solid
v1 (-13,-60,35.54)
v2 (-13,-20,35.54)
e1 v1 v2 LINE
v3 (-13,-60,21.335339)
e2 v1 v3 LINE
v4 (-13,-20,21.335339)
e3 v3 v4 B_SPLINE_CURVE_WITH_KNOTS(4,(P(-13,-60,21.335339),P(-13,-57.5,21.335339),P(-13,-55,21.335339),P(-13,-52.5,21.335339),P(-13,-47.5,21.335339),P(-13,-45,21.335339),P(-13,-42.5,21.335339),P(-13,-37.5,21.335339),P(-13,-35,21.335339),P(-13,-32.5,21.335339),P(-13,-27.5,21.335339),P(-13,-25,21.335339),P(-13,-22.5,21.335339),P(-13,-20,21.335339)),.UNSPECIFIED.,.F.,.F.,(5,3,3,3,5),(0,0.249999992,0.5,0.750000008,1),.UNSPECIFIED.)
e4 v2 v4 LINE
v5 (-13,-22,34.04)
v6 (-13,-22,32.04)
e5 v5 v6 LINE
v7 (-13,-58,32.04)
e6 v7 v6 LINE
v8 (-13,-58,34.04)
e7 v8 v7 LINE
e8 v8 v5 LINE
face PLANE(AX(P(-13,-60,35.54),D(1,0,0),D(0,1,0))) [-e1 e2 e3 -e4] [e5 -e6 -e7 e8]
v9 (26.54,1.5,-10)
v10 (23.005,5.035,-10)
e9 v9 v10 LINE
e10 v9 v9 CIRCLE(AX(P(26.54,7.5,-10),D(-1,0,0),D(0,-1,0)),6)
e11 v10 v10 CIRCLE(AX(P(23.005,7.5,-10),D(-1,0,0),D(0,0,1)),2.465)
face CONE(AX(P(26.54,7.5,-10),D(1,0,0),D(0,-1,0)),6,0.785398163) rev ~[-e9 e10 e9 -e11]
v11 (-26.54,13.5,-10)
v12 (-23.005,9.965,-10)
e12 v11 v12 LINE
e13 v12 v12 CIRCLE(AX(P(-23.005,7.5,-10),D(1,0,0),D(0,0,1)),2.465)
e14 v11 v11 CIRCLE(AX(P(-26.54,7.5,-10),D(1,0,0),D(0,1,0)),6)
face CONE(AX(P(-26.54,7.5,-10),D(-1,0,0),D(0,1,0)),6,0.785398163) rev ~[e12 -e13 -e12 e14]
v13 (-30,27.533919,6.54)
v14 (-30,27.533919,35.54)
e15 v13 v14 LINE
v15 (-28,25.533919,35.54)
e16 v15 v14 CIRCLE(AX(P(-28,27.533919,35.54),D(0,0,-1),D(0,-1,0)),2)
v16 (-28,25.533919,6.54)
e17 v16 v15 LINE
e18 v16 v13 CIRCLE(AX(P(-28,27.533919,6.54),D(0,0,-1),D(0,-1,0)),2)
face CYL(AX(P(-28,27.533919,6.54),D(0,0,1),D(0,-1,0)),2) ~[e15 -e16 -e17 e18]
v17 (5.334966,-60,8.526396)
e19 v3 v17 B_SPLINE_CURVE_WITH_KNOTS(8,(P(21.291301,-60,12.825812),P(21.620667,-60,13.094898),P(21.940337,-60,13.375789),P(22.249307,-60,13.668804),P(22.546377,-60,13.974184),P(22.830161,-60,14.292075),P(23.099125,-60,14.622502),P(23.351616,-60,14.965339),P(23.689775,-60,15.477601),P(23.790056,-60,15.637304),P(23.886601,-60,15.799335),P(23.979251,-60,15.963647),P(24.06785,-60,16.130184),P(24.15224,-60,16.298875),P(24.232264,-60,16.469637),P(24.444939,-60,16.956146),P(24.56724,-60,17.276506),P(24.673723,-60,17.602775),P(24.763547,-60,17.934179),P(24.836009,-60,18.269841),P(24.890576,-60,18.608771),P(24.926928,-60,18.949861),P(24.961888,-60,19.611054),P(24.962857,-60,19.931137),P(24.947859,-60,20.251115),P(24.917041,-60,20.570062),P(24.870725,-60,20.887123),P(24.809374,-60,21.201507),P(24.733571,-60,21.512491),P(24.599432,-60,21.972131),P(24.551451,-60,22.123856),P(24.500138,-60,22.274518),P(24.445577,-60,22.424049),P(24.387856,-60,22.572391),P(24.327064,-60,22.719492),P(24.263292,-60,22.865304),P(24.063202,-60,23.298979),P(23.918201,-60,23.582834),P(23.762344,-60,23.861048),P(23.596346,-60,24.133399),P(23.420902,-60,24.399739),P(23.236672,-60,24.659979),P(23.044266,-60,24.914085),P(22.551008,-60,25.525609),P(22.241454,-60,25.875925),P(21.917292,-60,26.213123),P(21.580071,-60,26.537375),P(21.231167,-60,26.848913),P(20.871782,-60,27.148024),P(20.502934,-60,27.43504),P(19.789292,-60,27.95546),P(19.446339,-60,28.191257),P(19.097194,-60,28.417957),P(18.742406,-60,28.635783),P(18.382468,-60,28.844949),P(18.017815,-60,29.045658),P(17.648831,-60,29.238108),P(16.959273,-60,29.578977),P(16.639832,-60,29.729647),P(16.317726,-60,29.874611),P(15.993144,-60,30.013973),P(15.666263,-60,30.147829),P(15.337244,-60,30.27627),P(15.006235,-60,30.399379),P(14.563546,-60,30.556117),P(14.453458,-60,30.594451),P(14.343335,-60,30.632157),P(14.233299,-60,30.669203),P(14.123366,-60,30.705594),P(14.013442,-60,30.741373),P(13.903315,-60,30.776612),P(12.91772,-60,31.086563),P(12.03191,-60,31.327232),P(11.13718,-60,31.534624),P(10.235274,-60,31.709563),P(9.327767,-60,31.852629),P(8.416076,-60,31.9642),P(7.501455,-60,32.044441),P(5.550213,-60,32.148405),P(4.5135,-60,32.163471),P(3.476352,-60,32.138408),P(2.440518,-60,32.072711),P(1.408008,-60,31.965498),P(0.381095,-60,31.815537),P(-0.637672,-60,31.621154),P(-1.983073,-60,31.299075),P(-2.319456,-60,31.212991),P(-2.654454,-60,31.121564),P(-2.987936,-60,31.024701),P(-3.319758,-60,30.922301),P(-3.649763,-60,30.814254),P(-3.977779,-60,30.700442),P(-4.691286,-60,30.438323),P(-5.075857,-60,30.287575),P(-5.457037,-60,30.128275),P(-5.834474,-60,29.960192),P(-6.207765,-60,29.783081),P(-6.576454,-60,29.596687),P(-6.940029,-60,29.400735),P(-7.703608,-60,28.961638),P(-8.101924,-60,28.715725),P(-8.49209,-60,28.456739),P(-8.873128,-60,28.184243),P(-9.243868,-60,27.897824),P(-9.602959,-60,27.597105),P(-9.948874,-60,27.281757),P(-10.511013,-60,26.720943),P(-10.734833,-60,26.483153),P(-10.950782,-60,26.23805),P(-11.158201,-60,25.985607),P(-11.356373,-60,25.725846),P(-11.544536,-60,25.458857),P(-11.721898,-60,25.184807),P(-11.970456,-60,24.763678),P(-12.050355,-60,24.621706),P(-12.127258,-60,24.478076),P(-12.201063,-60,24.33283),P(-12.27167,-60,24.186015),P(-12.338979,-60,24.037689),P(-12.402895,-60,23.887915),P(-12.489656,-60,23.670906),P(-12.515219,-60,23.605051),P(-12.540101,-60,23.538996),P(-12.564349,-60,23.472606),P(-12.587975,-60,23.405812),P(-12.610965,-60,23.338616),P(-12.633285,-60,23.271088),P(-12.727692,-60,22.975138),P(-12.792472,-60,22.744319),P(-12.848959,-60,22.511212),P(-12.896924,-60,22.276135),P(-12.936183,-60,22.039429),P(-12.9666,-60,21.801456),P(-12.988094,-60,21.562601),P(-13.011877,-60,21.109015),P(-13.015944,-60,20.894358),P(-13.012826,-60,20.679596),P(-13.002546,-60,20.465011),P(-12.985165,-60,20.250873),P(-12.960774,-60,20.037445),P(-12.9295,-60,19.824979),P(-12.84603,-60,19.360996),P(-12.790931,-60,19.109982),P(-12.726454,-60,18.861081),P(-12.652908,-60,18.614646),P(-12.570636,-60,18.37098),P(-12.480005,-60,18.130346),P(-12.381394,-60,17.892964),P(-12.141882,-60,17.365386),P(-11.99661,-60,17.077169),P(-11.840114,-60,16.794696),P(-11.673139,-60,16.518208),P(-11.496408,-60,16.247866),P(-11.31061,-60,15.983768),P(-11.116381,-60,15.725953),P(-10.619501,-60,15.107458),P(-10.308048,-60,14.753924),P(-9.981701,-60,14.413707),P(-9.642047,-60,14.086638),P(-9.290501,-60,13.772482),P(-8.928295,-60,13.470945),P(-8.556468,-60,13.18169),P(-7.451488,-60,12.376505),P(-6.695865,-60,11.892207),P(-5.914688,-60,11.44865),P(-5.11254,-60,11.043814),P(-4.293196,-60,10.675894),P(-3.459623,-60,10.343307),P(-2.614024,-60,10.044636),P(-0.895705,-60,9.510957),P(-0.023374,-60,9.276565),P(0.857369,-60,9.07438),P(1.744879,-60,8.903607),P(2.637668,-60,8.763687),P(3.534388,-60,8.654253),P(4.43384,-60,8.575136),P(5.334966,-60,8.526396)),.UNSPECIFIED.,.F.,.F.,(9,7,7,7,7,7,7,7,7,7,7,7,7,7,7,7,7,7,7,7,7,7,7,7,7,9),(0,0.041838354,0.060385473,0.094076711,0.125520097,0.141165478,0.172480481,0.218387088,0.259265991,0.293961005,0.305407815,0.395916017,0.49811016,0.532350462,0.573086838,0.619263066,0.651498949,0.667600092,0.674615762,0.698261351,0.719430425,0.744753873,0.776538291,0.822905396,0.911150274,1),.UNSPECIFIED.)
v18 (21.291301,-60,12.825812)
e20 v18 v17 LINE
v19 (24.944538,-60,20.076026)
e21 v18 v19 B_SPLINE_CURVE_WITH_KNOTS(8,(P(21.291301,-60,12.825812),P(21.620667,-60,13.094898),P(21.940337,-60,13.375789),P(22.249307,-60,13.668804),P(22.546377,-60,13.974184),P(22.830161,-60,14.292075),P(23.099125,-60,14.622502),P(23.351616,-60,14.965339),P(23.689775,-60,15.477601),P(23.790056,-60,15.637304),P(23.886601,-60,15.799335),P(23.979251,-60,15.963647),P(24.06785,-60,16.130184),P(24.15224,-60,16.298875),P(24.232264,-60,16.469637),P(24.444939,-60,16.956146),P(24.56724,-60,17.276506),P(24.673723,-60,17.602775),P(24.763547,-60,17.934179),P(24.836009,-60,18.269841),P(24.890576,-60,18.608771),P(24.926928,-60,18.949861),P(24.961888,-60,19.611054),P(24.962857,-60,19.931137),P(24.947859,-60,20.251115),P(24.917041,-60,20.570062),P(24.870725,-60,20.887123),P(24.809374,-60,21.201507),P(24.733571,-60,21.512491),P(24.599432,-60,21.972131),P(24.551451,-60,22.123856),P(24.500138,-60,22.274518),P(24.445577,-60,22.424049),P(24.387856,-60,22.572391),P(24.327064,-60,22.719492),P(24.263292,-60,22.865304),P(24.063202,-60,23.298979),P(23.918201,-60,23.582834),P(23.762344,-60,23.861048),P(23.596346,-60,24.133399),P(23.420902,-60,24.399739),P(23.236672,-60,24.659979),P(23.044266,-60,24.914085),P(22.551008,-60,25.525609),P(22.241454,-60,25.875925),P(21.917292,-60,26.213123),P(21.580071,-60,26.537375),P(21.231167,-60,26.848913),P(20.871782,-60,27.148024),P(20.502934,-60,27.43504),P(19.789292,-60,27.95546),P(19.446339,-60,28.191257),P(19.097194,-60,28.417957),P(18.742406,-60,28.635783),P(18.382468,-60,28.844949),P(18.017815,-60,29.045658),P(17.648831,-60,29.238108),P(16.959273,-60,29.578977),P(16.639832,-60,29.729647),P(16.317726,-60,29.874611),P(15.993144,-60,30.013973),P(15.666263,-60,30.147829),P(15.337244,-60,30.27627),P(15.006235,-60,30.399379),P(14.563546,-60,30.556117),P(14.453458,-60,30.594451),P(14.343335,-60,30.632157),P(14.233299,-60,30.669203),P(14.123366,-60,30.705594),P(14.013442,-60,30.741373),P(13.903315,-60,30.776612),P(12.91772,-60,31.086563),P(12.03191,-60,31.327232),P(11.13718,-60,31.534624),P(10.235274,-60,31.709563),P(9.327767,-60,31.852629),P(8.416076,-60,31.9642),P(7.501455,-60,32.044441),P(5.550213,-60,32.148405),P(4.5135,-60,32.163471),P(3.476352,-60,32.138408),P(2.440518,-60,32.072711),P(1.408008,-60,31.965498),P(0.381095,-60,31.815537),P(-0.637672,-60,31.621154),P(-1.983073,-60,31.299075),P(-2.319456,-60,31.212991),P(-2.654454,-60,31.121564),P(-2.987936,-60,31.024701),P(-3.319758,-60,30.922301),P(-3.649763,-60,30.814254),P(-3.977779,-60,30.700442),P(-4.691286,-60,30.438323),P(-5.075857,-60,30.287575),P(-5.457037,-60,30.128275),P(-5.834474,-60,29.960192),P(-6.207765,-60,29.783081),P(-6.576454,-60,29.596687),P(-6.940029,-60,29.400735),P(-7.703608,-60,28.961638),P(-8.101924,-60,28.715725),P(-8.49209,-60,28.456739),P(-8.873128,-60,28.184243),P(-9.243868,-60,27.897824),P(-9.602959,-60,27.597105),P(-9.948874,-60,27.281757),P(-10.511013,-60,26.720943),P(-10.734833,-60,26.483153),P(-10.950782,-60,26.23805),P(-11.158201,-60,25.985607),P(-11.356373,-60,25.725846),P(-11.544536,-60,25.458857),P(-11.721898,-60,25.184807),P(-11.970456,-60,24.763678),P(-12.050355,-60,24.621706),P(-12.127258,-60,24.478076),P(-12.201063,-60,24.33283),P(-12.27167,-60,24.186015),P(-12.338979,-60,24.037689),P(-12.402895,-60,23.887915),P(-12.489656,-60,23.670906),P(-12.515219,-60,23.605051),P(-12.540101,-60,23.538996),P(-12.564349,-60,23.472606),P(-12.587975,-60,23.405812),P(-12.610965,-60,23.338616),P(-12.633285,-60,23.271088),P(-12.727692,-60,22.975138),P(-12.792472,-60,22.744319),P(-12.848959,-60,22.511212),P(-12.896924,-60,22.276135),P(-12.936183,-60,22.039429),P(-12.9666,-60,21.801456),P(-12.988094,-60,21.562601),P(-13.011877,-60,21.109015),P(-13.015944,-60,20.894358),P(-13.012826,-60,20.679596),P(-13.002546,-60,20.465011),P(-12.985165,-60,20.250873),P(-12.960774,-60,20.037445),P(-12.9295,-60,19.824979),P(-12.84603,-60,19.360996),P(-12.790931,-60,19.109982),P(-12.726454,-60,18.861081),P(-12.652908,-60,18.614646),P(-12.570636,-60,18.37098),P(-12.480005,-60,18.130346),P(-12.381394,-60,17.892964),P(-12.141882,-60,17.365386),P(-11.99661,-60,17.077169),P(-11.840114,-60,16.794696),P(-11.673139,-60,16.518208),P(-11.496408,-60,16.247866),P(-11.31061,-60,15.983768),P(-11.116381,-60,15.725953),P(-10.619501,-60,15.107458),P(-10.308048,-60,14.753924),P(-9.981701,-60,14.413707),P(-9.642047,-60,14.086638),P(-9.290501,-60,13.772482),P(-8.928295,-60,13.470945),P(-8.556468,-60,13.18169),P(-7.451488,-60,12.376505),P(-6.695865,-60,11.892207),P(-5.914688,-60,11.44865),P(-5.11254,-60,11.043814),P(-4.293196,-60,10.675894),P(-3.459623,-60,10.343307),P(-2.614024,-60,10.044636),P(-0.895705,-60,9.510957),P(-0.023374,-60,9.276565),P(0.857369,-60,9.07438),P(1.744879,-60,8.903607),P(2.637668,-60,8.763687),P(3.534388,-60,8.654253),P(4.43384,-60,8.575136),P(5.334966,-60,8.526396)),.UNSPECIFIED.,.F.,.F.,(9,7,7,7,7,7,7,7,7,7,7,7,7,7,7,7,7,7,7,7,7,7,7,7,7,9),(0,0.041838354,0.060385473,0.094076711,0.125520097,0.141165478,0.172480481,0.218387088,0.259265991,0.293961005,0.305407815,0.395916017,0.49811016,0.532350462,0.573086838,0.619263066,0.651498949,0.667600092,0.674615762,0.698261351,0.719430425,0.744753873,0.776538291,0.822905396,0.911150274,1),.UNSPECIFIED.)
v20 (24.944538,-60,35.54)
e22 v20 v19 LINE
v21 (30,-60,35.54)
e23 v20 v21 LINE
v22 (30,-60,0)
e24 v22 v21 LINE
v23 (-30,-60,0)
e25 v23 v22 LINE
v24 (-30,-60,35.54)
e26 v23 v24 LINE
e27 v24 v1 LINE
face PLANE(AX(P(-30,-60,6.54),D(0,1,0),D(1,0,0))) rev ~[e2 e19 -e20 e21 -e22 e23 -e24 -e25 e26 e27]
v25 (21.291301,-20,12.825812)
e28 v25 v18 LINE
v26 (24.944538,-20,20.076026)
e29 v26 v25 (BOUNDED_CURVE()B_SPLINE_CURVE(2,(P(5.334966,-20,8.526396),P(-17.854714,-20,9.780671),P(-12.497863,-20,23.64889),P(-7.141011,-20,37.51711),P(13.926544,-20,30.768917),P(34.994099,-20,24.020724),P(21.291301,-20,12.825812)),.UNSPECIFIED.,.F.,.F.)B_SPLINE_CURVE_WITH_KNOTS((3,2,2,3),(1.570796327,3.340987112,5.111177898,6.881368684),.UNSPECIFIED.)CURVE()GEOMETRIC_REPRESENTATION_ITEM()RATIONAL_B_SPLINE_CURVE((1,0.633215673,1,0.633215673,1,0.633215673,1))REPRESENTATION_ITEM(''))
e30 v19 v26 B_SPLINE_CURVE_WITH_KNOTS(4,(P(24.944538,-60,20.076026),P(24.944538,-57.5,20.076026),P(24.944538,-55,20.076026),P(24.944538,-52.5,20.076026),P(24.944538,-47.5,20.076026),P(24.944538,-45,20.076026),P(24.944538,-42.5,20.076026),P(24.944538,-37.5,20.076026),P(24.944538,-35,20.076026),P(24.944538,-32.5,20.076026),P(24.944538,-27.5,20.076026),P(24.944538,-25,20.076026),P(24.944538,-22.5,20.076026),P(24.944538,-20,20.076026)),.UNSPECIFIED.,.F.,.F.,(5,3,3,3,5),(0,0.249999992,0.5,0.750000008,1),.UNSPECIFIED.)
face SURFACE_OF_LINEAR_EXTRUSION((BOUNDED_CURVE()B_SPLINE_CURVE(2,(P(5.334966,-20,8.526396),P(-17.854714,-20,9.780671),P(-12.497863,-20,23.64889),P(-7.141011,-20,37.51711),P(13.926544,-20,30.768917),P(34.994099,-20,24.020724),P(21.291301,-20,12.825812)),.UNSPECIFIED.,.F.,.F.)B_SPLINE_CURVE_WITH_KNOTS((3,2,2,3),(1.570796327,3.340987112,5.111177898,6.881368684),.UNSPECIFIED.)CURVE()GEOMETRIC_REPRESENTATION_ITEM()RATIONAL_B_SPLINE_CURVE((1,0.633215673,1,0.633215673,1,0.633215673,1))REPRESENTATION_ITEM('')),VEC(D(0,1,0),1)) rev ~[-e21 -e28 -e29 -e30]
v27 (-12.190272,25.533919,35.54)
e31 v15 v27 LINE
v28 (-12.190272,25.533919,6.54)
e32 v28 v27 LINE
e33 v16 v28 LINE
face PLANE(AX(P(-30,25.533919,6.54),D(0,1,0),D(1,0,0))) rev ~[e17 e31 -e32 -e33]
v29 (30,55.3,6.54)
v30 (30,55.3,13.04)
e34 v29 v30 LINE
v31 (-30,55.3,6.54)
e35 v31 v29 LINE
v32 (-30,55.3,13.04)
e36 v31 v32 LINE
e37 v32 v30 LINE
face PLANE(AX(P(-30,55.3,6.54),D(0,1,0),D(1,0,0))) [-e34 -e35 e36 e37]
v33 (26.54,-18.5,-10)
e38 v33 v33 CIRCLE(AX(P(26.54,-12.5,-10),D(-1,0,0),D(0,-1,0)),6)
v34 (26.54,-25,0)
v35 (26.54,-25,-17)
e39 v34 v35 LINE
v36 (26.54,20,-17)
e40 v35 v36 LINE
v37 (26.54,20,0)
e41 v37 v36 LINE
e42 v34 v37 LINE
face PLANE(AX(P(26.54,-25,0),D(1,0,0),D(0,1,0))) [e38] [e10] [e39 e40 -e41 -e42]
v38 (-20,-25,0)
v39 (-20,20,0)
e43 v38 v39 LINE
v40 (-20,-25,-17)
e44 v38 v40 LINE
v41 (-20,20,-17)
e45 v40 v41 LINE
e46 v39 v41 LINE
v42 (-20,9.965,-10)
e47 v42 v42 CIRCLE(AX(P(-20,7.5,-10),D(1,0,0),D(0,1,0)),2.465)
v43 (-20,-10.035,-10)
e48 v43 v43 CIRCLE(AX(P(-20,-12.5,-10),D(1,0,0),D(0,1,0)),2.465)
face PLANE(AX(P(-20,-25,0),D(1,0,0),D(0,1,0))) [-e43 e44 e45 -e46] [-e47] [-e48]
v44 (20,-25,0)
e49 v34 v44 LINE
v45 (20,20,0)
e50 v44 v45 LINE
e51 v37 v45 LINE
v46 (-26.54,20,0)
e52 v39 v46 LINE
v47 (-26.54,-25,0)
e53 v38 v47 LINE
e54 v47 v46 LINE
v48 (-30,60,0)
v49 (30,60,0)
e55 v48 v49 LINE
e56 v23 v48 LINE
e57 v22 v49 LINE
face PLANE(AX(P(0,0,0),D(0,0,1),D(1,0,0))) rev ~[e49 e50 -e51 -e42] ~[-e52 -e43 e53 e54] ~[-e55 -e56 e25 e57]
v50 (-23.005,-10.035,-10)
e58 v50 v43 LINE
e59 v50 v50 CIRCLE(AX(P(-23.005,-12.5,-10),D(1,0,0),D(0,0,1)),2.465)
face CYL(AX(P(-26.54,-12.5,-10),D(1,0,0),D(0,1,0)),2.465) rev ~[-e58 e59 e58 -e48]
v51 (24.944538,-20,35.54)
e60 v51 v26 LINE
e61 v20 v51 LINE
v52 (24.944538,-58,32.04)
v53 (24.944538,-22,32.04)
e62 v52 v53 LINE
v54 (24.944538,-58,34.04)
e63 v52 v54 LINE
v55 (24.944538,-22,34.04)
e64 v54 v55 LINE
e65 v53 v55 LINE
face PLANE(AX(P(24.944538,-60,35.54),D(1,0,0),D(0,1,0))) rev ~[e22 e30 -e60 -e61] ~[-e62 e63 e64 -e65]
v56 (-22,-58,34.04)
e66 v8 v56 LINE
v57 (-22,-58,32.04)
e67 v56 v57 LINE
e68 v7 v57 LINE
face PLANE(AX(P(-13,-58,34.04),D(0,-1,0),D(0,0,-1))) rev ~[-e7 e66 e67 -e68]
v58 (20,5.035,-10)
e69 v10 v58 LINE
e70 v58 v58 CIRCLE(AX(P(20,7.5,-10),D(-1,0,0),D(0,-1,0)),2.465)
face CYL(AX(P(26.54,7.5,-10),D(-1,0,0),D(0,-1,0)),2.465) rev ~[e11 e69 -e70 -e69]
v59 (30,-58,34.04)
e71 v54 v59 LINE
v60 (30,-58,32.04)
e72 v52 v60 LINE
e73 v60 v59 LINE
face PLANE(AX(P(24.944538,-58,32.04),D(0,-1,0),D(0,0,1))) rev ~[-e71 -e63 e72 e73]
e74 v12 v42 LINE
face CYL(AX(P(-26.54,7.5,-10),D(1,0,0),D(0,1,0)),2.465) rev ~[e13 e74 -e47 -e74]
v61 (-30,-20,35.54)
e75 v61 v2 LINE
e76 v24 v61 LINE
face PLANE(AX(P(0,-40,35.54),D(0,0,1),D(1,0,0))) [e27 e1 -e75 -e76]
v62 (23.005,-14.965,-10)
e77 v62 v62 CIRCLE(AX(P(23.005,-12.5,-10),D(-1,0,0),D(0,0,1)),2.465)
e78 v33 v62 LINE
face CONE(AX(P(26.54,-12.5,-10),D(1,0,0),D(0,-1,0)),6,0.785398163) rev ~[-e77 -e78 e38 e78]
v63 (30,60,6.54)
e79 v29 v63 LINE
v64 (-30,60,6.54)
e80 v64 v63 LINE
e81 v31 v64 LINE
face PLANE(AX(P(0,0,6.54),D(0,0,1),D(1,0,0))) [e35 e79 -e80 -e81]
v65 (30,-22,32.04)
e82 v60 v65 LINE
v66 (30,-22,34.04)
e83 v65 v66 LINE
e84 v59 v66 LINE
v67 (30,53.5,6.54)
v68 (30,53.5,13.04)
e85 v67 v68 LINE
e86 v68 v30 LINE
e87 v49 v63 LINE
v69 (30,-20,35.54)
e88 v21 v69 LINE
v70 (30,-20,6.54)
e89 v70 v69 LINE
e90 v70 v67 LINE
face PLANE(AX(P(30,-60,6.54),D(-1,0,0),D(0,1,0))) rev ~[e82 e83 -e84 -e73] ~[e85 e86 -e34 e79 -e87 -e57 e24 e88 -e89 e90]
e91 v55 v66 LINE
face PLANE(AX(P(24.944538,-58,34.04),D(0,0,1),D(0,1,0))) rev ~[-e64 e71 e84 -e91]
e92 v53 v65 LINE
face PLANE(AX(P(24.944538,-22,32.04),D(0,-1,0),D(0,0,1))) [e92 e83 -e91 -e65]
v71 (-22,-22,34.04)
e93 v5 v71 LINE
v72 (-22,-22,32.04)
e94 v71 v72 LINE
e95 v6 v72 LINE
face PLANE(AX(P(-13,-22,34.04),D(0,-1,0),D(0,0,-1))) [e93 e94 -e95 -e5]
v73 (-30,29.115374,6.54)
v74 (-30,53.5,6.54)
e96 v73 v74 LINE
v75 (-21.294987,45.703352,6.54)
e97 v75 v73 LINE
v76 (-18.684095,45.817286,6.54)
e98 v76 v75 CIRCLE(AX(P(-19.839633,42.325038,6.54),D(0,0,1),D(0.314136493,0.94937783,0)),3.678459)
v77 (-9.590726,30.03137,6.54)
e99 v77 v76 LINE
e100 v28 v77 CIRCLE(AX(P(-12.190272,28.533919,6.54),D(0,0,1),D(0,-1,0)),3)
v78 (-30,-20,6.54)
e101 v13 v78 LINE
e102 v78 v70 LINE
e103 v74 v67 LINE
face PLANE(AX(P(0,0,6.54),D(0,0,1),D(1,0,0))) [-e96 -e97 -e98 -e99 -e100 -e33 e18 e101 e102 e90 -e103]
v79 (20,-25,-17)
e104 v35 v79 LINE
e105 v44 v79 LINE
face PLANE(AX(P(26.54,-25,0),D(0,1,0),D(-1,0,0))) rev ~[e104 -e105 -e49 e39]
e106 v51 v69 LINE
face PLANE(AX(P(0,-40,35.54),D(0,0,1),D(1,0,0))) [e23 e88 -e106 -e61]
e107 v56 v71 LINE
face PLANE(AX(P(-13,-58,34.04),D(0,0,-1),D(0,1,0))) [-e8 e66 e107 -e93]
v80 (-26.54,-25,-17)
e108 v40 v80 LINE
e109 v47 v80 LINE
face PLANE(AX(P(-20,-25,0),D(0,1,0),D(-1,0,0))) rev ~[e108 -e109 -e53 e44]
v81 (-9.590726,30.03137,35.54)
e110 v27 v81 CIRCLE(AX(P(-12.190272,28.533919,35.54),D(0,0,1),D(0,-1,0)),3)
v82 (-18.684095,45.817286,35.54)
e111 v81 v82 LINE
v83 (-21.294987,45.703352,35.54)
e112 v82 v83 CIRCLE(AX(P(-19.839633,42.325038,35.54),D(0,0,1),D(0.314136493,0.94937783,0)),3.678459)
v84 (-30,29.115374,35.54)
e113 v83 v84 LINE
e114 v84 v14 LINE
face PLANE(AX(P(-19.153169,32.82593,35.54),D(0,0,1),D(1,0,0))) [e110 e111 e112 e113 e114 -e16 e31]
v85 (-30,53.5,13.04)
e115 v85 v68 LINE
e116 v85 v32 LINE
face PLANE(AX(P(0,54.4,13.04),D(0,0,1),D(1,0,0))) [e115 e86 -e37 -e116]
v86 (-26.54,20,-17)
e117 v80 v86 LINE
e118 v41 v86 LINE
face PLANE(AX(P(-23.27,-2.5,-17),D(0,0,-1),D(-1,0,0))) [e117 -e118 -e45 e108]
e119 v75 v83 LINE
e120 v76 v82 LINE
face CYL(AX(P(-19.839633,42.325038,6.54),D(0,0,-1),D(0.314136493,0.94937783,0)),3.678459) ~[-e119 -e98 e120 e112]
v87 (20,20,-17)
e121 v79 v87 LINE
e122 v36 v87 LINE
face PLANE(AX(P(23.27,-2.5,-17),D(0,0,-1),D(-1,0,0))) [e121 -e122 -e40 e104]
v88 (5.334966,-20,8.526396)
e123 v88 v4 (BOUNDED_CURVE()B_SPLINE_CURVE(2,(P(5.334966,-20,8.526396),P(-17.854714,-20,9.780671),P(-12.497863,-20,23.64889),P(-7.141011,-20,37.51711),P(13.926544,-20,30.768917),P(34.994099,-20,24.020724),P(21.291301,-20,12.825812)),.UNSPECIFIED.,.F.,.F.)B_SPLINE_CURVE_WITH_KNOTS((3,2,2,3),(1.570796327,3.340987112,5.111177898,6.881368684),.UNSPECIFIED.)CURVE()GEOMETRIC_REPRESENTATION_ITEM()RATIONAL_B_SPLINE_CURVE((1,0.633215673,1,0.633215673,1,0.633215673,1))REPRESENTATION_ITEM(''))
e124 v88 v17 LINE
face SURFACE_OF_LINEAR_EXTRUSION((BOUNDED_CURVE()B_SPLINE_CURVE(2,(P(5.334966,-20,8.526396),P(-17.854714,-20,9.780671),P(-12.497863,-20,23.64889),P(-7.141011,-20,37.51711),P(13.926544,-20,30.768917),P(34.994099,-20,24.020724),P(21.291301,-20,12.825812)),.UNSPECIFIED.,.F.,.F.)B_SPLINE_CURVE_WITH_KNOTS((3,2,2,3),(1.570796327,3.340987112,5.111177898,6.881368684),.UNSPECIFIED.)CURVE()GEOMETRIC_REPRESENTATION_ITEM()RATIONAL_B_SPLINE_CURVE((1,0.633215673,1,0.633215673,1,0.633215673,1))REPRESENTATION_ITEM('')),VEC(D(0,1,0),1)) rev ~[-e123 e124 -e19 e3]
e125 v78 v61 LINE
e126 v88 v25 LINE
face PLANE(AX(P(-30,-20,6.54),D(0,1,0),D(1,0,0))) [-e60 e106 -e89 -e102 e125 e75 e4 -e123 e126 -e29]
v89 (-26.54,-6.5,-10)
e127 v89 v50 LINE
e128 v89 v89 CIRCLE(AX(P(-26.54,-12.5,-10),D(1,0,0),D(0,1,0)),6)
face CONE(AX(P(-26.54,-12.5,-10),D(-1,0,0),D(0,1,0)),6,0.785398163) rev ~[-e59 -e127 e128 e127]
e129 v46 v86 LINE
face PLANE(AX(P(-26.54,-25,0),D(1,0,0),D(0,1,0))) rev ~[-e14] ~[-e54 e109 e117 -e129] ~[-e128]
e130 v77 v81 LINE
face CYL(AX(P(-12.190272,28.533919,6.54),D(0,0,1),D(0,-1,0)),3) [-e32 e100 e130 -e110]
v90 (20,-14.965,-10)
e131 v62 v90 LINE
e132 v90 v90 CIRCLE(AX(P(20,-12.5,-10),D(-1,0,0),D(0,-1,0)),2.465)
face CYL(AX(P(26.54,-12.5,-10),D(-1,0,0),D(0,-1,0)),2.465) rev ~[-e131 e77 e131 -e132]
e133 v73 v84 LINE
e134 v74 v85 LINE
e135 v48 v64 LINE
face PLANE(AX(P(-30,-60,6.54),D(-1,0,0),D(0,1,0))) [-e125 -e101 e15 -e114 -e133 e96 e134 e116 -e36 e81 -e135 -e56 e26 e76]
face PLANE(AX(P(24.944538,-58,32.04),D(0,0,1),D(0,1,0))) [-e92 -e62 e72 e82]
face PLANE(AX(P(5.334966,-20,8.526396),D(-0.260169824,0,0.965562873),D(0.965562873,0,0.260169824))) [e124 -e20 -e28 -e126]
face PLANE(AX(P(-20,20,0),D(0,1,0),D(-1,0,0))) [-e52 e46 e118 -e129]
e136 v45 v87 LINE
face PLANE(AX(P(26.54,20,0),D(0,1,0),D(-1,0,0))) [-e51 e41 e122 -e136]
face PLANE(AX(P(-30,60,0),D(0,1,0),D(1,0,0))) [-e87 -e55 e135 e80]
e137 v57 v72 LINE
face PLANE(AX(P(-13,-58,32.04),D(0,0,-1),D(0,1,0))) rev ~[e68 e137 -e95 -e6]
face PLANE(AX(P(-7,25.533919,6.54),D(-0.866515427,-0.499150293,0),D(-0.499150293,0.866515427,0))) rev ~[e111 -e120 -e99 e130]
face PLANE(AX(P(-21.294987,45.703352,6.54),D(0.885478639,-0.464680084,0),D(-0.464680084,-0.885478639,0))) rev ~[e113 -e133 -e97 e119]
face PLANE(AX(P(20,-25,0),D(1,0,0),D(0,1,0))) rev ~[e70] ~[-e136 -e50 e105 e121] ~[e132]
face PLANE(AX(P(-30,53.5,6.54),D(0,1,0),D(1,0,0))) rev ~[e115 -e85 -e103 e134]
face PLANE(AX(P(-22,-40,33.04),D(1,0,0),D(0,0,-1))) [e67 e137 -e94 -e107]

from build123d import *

# Parameters (mm, degrees)
SKETCH1_W                                       = 60
SKETCH1_H                                       = 120
BOSS_EXTRUDE1_DEPTH                             = 6.54
SKETCH10_W                                      = 6.54
SKETCH10_H                                      = 45
BOSS_EXTRUDE5_DEPTH                             = 17
SKETCH17_W                                      = 60
SKETCH17_H                                      = 40
BOSS_EXTRUDE6_DEPTH                             = 29
CUT_EXTRUDE1_REACH                              = 42
CUT_EXTRUDE2_REACH                              = 54.54
SKETCH21_W                                      = 37.9445377
SKETCH21_H                                      = 40
SKETCH23_W                                      = 2
SKETCH23_H                                      = 36
CUT_EXTRUDE3_DEPTH                              = 9
SKETCH24_W                                      = 2
SKETCH24_H                                      = 36
CUT_EXTRUDE4_DEPTH                              = 9
CSK_FOR_M3_FLAT_HEAD_MACHINE_SCREW4_D           = 4.93
CSK_FOR_M3_FLAT_HEAD_MACHINE_SCREW4_DEPTH       = 6.54
CSK_FOR_M3_FLAT_HEAD_MACHINE_SCREW4_CSINK_D     = 12
CSK_FOR_M3_FLAT_HEAD_MACHINE_SCREW4_CSINK_ANGLE = 90
CSK_FOR_M3_FLAT_HEAD_MACHINE_SCREW5_D           = 4.93
CSK_FOR_M3_FLAT_HEAD_MACHINE_SCREW5_DEPTH       = 6.54
CSK_FOR_M3_FLAT_HEAD_MACHINE_SCREW5_CSINK_D     = 12
CSK_FOR_M3_FLAT_HEAD_MACHINE_SCREW5_CSINK_ANGLE = 90
BOSS_EXTRUDE8_DEPTH                             = 29
SKETCH36_W                                      = 60
SKETCH36_H                                      = 1.8
BOSS_EXTRUDE9_DEPTH                             = 6.5
FILLET1_R                                       = 3
FILLET2_R                                       = 2


with BuildPart() as part:
    # Sketch1 → Boss-Extrude1 (new body)
    with BuildSketch(Plane.XY):
        Rectangle(SKETCH1_W, SKETCH1_H)
    extrude(amount=BOSS_EXTRUDE1_DEPTH)

    # Sketch10 → Boss-Extrude5 (add)
    with BuildSketch(Plane(origin=(0, 0, 0), x_dir=(-1, 0, 0), z_dir=(0, 0, -1))):
        with Locations((23.27, -2.5)):
            Rectangle(SKETCH10_W, SKETCH10_H)
        with Locations((-23.27, -2.5)):
            Rectangle(SKETCH10_W, SKETCH10_H)
    extrude(amount=BOSS_EXTRUDE5_DEPTH)

    # Sketch17 → Boss-Extrude6 (add)
    with BuildSketch(Plane.XY.offset(6.54)):
        with Locations((0, -40)):
            Rectangle(SKETCH17_W, SKETCH17_H)
    extrude(amount=BOSS_EXTRUDE6_DEPTH)

    # Sketch18 → Cut-Extrude1 (cut, up to next)
    with BuildSketch(Plane(origin=(0, -20, 0), x_dir=(1, 0, 0), z_dir=(0, 1, 0)), mode=Mode.PRIVATE) as cut_extrude1_sk1:
        with BuildLine():
            Line((5.334966353, -8.526396136), (21.291300905, -12.825812438))
            add(Edge.make_bspline(
                [(5.334966353, -8.526396136), (-17.854714365, -9.780670981), (-12.49786254, -23.648890313), (-7.141010715, -37.517109645), (13.926544327, -30.768916863), (34.994099369, -24.020724082), (21.291300905, -12.825812438)],
                knots=[1.570796327, 1.570796327, 1.570796327, 3.340987112, 3.340987112, 5.111177898, 5.111177898, 6.881368684, 6.881368684, 6.881368684], degree=2, weights=[1, 0.633215673, 1, 0.633215673, 1, 0.633215673, 1]))
        make_face()
    cut_extrude1_tool1 = extrude(cut_extrude1_sk1.sketch, amount=-CUT_EXTRUDE1_REACH, mode=Mode.PRIVATE) & part.part
    add(cut_extrude1_tool1.solids().sort_by_distance((5.792514, -20, 20.554542))[0], mode=Mode.SUBTRACT)

    # Sketch21 → Cut-Extrude2 (cut, up to next)
    with BuildSketch(Plane.XY.offset(35.54), mode=Mode.PRIVATE) as cut_extrude2_sk1:
        with Locations((5.97226885, -40)):
            Rectangle(SKETCH21_W, SKETCH21_H)
    cut_extrude2_tool1 = extrude(cut_extrude2_sk1.sketch, amount=-CUT_EXTRUDE2_REACH, mode=Mode.PRIVATE) & part.part
    add(cut_extrude2_tool1.solids().sort_by_distance((5.972269, -40, 35.54))[0], mode=Mode.SUBTRACT)

    # Sketch23 → Cut-Extrude3 (cut)
    with BuildSketch(Plane(origin=(-13, 0, 0), x_dir=(0, 0, -1), z_dir=(1, 0, 0))):
        with Locations((-33.04, -40)):
            Rectangle(SKETCH23_W, SKETCH23_H)
    extrude(amount=-CUT_EXTRUDE3_DEPTH, mode=Mode.SUBTRACT)

    # Sketch24 → Cut-Extrude4 (cut)
    with BuildSketch(Plane.ZY.offset(-24.9445377)):
        with Locations((33.04, -40)):
            Rectangle(SKETCH24_W, SKETCH24_H)
    extrude(amount=-CUT_EXTRUDE4_DEPTH, mode=Mode.SUBTRACT)

    # CSK for M3 Flat Head Machine Screw4
    with Locations(Plane(origin=(26.54, -12.5, -10), x_dir=(0, 1, 0), z_dir=(1, 0, 0))):
        with Locations((0, 0), (20, 0)):
            CounterSinkHole(CSK_FOR_M3_FLAT_HEAD_MACHINE_SCREW4_D / 2, CSK_FOR_M3_FLAT_HEAD_MACHINE_SCREW4_CSINK_D / 2, depth=CSK_FOR_M3_FLAT_HEAD_MACHINE_SCREW4_DEPTH, counter_sink_angle=CSK_FOR_M3_FLAT_HEAD_MACHINE_SCREW4_CSINK_ANGLE)

    # CSK for M3 Flat Head Machine Screw5
    with Locations(Plane(origin=(-26.54, -12.5, -10), x_dir=(0, -1, 0), z_dir=(-1, 0, 0))):
        with Locations((0, 0), (-20, 0)):
            CounterSinkHole(CSK_FOR_M3_FLAT_HEAD_MACHINE_SCREW5_D / 2, CSK_FOR_M3_FLAT_HEAD_MACHINE_SCREW5_CSINK_D / 2, depth=CSK_FOR_M3_FLAT_HEAD_MACHINE_SCREW5_DEPTH, counter_sink_angle=CSK_FOR_M3_FLAT_HEAD_MACHINE_SCREW5_CSINK_ANGLE)

    # Sketch7 → Boss-Extrude8 (add)
    with BuildSketch(Plane.XY.offset(6.54)):
        with BuildLine():
            Line((-7, 25.533918981), (-18.684094898, 45.817285768))
            ThreePointArc((-18.684094898, 45.817285768), (-20, 46), (-21.294986864, 45.703352481))
            Line((-21.294986864, 45.703352481), (-30, 29.115374119))
            Line((-30, 29.115374119), (-30, 25.533918981))
            Line((-30, 25.533918981), (-7, 25.533918981))
        make_face()
    extrude(amount=BOSS_EXTRUDE8_DEPTH)

    # Sketch36 → Boss-Extrude9 (add)
    with BuildSketch(Plane.XY.offset(6.54)):
        with Locations((0, 54.4)):
            Rectangle(SKETCH36_W, SKETCH36_H)
    extrude(amount=BOSS_EXTRUDE9_DEPTH)

    # Fillet1
    fillet1_edges = [part.edges().sort_by_distance(p)[0] for p in [
        (-7, 25.533918981, 21.04),
    ]]
    fillet(fillet1_edges, radius=FILLET1_R)

    # Fillet2
    fillet2_edges = [part.edges().sort_by_distance(p)[0] for p in [
        (-30, 25.533918981, 21.04),
    ]]
    fillet(fillet2_edges, radius=FILLET2_R)


solid = part.part
